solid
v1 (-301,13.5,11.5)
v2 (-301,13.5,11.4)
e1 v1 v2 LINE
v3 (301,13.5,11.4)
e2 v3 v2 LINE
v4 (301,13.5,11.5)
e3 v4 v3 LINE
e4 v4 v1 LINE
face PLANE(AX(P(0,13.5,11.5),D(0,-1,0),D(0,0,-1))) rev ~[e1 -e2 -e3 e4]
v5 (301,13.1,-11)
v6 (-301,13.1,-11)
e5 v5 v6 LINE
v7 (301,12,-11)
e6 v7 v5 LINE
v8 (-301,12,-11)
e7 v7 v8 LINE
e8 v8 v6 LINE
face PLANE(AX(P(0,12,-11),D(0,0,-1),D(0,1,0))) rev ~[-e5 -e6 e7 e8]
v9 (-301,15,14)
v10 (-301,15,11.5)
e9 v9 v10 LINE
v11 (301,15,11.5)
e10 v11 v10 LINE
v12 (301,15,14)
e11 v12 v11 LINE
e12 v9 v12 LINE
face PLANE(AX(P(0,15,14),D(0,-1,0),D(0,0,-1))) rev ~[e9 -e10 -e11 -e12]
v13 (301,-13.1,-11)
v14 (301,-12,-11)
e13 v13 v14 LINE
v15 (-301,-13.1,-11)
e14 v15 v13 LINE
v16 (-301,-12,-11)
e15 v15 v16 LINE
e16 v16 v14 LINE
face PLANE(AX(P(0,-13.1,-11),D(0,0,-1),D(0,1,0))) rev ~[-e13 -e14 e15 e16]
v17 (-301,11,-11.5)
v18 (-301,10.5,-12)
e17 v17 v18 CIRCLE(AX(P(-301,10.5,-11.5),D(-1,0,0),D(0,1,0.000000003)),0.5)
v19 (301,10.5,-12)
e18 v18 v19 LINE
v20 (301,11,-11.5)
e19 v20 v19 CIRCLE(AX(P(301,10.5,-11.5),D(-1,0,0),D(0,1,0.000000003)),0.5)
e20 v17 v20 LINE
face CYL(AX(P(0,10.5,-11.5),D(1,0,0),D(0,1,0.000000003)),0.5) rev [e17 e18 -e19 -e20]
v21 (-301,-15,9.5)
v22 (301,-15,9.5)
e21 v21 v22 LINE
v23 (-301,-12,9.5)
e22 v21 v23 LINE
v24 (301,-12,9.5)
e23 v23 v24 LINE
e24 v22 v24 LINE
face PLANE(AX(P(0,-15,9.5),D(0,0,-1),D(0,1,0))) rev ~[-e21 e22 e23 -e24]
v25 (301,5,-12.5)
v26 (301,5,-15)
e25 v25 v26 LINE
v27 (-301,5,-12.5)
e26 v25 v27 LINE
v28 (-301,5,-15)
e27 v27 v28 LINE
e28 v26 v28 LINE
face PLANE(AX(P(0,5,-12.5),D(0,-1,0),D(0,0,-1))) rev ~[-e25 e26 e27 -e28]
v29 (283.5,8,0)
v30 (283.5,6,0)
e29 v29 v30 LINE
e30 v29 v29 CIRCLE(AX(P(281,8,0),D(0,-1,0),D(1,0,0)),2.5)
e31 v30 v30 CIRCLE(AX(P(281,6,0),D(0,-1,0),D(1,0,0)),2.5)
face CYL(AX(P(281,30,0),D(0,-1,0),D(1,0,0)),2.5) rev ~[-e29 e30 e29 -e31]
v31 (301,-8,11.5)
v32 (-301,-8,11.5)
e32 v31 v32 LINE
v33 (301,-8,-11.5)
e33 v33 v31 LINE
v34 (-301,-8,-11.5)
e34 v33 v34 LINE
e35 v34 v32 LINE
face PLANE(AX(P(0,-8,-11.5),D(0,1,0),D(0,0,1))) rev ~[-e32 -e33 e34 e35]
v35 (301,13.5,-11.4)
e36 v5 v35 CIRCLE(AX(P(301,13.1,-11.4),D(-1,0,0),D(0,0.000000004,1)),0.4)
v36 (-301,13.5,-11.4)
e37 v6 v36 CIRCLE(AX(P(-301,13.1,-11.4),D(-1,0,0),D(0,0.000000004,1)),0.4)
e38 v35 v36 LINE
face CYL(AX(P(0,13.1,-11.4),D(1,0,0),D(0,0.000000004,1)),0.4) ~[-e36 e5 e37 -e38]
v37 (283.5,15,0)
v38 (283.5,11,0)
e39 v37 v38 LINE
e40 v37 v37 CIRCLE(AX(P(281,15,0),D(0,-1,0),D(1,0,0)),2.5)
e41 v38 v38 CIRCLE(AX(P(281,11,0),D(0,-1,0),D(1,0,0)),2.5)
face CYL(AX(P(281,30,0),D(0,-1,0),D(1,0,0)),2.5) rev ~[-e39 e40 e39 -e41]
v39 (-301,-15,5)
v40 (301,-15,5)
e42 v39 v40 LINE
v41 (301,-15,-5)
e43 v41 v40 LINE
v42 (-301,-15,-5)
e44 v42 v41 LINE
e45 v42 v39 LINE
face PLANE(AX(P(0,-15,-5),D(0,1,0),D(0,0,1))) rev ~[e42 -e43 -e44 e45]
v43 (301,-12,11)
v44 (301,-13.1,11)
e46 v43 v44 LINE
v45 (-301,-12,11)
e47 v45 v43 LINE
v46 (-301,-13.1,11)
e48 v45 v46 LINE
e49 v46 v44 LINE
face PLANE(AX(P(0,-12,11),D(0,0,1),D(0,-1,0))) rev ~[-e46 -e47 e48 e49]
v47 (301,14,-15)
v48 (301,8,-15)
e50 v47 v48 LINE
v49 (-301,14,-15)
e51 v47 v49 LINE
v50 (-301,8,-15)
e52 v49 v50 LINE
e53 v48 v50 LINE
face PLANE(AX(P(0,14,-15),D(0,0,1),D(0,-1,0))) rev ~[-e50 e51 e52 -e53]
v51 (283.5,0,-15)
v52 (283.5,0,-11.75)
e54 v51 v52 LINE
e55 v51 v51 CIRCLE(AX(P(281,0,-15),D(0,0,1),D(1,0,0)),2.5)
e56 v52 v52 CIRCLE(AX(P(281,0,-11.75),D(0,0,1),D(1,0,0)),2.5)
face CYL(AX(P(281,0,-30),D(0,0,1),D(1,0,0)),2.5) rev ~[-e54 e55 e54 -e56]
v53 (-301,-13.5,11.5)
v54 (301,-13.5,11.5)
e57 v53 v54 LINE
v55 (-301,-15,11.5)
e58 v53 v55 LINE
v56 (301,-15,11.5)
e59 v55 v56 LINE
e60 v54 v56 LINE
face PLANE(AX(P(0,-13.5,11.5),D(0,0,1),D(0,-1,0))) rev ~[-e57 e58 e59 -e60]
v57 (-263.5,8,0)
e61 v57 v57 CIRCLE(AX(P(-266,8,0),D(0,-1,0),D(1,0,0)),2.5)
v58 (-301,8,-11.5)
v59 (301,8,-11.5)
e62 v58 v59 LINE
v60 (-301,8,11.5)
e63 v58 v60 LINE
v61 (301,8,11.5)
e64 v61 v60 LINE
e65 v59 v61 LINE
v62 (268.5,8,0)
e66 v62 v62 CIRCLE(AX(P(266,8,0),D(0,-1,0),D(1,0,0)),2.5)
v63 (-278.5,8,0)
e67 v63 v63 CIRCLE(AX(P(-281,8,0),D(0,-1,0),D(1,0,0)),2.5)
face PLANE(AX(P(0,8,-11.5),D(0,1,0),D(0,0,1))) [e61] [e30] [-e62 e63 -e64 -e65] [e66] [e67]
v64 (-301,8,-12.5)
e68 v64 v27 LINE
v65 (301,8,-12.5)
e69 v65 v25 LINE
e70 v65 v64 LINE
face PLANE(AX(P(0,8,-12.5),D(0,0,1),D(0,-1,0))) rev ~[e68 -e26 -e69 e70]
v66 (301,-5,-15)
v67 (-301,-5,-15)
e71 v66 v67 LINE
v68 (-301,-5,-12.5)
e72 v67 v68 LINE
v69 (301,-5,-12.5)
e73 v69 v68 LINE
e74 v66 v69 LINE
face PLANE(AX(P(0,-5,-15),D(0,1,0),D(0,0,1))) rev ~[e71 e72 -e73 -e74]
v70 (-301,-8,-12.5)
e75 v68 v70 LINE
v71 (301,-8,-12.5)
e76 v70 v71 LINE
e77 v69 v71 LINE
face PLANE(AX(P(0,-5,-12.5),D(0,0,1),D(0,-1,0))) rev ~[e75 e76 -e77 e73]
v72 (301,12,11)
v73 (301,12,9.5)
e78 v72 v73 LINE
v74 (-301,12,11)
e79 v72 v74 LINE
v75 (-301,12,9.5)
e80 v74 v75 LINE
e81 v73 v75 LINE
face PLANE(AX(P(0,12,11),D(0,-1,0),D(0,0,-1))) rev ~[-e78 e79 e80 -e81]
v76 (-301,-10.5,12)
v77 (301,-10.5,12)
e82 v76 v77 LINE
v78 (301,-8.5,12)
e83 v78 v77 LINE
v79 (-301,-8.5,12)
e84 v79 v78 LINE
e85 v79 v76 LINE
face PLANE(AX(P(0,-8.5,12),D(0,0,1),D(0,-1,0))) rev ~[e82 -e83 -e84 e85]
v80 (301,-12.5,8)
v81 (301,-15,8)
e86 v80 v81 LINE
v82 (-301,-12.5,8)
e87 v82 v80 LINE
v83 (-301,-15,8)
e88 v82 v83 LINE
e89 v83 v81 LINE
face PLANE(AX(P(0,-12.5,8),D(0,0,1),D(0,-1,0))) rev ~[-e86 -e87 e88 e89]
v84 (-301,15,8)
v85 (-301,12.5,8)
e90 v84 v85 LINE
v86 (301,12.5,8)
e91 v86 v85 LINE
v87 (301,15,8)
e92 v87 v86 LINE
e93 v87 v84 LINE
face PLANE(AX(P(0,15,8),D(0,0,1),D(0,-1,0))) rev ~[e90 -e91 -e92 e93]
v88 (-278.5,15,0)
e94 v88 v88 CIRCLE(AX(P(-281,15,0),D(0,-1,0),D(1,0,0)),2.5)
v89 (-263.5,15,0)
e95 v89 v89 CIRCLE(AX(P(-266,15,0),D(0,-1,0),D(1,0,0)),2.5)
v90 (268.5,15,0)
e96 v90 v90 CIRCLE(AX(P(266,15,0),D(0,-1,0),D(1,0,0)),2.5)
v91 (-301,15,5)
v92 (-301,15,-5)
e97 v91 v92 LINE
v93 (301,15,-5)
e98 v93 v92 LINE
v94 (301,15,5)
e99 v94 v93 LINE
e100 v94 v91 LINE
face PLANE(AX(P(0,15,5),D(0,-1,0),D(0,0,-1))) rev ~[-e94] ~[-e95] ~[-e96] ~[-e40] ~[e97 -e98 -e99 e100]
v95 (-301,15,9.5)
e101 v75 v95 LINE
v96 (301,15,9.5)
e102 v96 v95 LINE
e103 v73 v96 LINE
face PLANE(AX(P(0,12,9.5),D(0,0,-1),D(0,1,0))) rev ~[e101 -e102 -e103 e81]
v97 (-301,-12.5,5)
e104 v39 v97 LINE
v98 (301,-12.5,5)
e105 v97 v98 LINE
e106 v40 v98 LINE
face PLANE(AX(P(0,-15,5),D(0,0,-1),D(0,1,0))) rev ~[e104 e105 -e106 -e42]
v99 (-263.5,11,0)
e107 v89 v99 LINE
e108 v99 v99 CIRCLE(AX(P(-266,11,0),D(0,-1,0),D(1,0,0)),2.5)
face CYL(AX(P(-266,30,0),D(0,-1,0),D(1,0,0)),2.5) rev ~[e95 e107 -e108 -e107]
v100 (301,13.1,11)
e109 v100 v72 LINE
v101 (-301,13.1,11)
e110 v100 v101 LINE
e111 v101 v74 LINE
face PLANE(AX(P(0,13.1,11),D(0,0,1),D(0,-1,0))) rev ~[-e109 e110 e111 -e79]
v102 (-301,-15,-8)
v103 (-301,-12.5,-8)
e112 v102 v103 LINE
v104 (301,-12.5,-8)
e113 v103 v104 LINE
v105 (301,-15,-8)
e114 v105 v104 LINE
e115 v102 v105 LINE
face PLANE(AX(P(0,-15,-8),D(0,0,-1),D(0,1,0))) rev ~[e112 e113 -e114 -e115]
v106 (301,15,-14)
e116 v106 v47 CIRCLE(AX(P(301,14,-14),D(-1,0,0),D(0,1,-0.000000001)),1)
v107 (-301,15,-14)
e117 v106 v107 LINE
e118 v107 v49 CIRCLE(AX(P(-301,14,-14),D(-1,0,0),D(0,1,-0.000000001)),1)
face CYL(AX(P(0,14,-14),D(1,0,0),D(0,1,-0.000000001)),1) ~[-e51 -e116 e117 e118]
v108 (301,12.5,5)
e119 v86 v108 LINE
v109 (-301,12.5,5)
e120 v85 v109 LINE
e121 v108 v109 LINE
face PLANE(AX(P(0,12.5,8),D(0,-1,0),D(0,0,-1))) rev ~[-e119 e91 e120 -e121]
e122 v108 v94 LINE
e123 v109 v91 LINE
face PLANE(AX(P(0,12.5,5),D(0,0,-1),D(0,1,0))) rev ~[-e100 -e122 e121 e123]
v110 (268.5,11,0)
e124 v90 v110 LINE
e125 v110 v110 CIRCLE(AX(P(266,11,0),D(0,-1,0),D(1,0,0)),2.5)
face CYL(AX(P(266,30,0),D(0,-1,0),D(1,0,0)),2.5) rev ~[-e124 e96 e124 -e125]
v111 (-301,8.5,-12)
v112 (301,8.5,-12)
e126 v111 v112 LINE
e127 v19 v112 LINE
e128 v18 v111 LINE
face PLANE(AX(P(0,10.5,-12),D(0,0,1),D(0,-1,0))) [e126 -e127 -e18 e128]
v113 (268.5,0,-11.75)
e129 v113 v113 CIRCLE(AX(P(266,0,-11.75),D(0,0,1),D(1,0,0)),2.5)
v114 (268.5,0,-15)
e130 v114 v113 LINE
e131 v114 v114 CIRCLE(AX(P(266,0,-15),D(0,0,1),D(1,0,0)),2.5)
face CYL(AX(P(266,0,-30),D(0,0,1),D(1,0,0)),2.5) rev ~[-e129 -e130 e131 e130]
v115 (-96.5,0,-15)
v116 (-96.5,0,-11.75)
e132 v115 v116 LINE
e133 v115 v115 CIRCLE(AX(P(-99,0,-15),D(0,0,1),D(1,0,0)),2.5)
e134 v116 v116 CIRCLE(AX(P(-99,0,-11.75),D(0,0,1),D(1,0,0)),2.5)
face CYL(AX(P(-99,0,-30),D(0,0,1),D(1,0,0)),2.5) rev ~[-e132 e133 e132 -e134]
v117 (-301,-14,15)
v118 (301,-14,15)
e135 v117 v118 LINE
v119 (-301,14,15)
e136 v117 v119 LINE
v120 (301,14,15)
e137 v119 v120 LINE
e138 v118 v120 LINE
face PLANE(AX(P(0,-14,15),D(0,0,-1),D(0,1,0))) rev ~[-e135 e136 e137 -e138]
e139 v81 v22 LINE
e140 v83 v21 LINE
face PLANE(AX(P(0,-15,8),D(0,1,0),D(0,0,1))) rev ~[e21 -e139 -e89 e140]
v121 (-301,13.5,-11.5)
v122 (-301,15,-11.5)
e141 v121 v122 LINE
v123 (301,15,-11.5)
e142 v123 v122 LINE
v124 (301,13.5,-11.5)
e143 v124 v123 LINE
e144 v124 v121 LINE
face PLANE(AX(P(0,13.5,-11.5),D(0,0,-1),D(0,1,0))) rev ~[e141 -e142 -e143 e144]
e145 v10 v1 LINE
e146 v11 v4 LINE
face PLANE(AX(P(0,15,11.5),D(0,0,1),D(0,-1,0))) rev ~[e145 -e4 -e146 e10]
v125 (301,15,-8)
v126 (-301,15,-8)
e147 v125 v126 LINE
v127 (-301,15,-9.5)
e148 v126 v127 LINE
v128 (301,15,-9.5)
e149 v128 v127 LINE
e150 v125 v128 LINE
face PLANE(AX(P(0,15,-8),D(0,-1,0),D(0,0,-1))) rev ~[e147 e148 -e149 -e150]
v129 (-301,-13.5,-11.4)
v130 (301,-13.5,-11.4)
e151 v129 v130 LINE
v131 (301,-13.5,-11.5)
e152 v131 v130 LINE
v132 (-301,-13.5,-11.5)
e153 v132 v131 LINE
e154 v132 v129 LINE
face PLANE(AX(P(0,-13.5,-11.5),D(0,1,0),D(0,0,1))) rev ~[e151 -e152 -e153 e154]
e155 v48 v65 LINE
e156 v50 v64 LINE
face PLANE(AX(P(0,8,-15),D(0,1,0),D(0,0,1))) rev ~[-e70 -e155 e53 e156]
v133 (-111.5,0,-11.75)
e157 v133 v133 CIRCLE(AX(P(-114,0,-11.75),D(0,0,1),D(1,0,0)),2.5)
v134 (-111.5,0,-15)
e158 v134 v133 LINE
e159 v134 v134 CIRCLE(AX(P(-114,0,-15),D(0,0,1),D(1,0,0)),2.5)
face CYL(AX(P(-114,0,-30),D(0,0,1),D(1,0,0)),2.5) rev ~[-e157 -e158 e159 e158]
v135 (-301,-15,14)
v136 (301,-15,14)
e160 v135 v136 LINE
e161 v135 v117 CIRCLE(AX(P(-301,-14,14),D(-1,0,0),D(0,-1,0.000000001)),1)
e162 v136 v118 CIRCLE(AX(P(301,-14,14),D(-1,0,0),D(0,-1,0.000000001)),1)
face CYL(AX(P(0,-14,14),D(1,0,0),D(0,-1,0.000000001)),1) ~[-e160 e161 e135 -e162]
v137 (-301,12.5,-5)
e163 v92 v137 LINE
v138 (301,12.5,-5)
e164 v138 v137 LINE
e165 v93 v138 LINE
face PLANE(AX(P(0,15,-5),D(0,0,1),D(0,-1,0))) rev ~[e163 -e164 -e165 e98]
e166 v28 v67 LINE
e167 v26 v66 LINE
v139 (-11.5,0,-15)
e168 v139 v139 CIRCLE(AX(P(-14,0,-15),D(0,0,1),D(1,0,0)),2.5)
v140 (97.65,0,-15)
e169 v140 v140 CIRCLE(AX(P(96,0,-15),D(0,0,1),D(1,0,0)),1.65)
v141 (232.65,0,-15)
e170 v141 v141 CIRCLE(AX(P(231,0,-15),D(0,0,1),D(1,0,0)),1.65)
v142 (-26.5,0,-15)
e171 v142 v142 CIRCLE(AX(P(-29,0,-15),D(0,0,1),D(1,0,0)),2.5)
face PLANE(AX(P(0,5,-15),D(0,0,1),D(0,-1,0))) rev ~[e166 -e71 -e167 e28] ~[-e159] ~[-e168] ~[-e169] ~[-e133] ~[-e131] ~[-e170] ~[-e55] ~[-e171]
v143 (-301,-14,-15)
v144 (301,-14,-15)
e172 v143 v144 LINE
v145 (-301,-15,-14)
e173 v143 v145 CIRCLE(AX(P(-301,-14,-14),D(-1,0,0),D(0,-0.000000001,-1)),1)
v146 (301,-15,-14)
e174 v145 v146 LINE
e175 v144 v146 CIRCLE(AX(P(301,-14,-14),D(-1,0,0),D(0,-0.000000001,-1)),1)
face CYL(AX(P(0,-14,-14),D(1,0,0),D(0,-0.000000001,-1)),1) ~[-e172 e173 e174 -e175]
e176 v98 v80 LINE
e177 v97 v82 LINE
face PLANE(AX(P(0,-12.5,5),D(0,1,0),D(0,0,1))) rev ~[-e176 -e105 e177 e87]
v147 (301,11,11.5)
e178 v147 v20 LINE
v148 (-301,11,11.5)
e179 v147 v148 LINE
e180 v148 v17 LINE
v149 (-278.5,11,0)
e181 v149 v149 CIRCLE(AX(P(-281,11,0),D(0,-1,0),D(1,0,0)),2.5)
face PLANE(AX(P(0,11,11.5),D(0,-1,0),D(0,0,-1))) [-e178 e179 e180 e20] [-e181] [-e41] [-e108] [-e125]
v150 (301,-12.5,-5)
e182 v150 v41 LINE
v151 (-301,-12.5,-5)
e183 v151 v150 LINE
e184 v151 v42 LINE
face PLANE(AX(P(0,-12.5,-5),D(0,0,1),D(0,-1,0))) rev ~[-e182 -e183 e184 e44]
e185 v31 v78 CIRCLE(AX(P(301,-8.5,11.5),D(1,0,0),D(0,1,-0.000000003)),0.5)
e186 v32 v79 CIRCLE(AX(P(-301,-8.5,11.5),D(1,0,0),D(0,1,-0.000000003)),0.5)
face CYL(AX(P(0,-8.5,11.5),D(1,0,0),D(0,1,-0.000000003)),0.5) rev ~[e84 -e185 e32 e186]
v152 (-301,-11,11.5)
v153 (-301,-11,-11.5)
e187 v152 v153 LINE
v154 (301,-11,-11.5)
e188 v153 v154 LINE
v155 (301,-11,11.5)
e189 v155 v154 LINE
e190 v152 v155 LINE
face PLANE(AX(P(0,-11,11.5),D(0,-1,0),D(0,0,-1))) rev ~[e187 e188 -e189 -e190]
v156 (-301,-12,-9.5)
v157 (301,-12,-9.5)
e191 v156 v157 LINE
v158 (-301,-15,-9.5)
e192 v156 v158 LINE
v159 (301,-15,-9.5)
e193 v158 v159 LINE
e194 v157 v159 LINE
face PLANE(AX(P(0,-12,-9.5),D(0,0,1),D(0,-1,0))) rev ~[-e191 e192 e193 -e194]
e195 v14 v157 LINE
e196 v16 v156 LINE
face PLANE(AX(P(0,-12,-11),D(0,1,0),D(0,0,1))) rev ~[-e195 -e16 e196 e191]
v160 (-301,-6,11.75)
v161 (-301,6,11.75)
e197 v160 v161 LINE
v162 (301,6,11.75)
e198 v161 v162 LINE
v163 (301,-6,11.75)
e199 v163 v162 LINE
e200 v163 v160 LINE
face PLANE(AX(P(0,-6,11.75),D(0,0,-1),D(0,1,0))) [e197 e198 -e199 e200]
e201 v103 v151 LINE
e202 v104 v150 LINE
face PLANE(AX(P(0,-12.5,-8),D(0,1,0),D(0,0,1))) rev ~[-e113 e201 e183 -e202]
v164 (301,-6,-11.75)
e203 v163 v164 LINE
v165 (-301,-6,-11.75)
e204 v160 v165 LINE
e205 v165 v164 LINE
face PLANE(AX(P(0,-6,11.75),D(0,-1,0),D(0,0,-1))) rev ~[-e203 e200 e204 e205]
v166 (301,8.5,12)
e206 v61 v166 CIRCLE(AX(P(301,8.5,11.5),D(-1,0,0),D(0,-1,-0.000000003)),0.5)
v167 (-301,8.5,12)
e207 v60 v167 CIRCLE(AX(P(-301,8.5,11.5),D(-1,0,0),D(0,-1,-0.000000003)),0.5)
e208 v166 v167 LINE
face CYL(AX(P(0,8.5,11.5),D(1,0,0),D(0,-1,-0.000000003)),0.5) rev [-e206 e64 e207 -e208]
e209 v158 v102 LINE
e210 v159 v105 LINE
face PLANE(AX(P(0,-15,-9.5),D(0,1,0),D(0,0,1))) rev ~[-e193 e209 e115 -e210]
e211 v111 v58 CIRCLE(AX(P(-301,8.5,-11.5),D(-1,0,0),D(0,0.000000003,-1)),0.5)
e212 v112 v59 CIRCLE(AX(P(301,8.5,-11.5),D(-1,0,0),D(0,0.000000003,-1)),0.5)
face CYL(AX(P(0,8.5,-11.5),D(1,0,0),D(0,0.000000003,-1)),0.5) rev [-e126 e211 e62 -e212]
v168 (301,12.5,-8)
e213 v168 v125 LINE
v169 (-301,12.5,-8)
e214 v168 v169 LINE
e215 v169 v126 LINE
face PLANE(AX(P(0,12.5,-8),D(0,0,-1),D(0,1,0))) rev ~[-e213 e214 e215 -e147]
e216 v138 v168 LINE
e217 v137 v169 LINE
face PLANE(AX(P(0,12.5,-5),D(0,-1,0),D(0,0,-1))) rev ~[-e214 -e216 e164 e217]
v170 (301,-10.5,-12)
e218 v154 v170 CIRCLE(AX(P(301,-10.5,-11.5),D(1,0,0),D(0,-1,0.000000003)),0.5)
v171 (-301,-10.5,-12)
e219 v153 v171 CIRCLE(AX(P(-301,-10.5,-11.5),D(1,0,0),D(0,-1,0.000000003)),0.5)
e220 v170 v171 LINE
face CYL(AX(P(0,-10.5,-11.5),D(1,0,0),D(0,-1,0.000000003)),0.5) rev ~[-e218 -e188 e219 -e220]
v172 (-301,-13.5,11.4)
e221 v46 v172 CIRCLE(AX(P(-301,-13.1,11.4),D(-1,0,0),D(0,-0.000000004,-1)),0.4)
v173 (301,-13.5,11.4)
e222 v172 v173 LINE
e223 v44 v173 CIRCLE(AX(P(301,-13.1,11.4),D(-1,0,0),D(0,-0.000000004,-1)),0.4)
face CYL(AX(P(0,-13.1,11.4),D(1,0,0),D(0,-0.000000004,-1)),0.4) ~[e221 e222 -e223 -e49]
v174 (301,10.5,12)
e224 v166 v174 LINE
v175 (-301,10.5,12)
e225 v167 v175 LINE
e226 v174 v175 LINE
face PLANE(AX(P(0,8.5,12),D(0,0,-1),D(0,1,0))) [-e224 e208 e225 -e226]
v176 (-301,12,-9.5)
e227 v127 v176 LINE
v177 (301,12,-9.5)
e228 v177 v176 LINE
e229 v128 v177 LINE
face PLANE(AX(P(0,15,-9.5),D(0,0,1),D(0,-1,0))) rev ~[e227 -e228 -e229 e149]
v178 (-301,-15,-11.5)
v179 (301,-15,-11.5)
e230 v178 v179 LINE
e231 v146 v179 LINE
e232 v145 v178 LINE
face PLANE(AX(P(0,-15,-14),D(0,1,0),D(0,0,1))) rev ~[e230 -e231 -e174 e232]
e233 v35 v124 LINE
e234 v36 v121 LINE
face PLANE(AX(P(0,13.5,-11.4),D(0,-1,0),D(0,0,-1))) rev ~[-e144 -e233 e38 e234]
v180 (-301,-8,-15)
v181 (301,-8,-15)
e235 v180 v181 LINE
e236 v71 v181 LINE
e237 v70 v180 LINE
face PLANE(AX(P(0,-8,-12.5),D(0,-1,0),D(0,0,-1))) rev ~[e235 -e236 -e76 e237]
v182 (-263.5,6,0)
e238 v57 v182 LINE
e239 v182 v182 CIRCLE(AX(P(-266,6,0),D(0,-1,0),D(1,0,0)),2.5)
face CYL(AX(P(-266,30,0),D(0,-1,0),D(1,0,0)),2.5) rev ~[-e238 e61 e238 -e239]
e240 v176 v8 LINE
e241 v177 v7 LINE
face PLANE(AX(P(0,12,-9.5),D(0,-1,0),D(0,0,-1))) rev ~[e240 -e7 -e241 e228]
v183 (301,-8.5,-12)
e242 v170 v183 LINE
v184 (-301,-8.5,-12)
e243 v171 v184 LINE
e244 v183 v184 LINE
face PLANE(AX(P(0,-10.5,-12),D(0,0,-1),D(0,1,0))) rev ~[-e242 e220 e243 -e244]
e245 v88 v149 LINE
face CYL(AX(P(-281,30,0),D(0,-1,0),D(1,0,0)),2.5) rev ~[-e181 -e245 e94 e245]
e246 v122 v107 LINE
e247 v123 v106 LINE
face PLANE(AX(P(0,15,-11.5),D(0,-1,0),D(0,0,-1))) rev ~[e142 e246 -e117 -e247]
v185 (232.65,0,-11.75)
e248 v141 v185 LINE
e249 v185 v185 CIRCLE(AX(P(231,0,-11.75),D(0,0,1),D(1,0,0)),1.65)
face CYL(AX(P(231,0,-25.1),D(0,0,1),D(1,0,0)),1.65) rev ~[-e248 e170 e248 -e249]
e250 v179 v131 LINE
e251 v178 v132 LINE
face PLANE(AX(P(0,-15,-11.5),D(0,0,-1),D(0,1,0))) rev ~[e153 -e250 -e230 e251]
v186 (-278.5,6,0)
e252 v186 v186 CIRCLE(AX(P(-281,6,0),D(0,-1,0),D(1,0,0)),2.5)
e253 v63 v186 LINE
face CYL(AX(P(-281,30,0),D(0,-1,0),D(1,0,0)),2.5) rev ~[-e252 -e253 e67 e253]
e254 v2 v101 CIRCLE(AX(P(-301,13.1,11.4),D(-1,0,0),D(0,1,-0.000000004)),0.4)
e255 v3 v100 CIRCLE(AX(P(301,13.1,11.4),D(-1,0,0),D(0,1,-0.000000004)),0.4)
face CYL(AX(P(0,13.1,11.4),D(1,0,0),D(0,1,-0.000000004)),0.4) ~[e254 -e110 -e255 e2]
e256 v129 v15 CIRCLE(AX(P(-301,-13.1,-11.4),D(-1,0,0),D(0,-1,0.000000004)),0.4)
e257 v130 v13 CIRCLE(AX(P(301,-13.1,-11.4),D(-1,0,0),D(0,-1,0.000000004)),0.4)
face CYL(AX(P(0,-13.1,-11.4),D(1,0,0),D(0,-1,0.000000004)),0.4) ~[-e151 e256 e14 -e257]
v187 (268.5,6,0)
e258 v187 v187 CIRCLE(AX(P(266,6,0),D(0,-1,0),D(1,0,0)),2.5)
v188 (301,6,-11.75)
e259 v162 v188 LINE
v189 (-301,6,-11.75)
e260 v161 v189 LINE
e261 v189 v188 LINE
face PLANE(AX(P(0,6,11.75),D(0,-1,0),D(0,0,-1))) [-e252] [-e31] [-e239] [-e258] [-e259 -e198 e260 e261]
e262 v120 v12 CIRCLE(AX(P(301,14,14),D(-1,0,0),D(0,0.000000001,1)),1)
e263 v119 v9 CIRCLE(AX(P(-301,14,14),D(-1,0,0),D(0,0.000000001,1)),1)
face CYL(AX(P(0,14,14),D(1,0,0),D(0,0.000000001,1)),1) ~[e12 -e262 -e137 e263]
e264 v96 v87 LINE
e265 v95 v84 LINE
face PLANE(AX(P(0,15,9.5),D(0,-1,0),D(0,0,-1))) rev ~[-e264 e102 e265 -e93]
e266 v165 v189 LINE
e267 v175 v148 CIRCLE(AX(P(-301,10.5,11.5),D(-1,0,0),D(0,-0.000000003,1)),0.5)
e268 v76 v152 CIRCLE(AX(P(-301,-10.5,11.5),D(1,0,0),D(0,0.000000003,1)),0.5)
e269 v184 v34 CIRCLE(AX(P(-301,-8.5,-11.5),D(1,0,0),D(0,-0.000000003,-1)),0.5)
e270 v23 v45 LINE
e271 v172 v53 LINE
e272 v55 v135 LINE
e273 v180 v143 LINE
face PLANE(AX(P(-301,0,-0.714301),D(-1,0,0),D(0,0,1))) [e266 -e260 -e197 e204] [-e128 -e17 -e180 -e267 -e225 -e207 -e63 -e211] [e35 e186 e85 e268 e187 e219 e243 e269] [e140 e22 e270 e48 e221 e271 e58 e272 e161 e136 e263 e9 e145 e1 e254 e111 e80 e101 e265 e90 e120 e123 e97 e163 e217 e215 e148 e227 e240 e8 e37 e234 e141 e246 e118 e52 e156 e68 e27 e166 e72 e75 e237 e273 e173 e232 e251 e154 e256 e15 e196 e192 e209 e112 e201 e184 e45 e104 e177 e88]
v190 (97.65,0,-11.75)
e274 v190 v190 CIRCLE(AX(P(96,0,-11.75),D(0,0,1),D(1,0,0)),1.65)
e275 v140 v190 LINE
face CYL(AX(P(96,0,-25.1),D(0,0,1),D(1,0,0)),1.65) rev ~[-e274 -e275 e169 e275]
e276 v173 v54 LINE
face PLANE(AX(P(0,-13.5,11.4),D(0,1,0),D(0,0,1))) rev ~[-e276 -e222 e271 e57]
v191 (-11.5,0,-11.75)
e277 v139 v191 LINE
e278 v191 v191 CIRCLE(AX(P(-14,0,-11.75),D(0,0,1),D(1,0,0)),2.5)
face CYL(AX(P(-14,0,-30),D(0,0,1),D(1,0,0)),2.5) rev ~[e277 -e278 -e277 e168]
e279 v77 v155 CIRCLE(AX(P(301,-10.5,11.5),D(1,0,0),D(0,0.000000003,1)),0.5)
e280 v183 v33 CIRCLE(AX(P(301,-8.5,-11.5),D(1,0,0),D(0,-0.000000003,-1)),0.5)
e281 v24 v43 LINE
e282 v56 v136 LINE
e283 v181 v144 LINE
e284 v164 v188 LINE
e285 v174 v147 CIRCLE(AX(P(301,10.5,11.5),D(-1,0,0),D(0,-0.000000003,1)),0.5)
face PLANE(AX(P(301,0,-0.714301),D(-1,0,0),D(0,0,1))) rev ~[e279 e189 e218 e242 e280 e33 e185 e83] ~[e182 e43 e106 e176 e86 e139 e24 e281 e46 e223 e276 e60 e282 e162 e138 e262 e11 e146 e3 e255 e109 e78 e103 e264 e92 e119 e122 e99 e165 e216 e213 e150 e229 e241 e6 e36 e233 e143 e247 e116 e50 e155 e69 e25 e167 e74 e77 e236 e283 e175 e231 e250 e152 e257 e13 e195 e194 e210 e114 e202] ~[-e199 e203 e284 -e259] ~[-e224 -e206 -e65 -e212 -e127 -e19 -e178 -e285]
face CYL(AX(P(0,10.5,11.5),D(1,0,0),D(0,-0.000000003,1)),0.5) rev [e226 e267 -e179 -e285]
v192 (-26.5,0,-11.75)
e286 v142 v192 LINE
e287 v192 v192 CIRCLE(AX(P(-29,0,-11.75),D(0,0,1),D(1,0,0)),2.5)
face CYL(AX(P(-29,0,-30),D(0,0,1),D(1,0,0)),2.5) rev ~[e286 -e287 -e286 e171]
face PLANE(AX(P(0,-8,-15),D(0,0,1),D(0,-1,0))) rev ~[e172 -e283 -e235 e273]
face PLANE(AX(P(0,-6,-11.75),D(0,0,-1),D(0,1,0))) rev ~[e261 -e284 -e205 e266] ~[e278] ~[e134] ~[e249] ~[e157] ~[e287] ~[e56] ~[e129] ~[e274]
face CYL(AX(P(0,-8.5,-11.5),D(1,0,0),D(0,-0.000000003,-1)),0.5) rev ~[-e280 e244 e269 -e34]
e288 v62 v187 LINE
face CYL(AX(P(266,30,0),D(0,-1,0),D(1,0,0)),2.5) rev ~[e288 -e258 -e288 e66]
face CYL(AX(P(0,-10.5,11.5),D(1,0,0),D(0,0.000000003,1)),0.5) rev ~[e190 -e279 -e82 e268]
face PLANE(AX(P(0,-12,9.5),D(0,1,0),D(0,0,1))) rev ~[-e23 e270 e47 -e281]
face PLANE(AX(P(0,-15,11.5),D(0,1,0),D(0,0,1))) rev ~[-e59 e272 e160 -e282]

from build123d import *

# Parameters (mm, degrees)
SKETCH_1_W             = 23.5
SKETCH_1_H             = 12
EXTRUDE_1_DEPTH        = 301
HOLE_WIZARD_M6_1_D     = 5
HOLE_WIZARD_M6_1_DEPTH = 15
HOLE_WIZARD_M6_1_TIP   = 1.502151548
HOLE_WIZARD_M6_2_D     = 5
HOLE_WIZARD_M6_2_DEPTH = 15
HOLE_WIZARD_M6_2_TIP   = 1.502151548
HOLE_WIZARD_M4_1_D     = 3.3
HOLE_WIZARD_M4_1_DEPTH = 10.1
HOLE_WIZARD_M4_1_TIP   = 0.991420021


with BuildPart() as part:
    # 草图1 → 凸台-拉伸1 (new, symmetric)
    with BuildSketch(Plane(origin=(0, 0, 0), x_dir=(0, 0, -1), z_dir=(1, 0, 0))):
        with BuildLine():
            Line((-14, 15), (-11.5, 15))
            Line((-11.5, 15), (-11.5, 13.5))
            Line((-11.5, 13.5), (-11.4, 13.5))
            ThreePointArc((-11.4, 13.5), (-11.117157288, 13.382842712), (-11, 13.1))
            Line((-11, 13.1), (-11, 12))
            Line((-11, 12), (-9.5, 12))
            Line((-9.5, 12), (-9.5, 15))
            Line((-9.5, 15), (-8, 15))
            Line((-8, 15), (-8, 12.5))
            Line((-8, 12.5), (-5, 12.5))
            Line((-5, 12.5), (-5, 15))
            Line((-5, 15), (5, 15))
            Line((5, 15), (5, 12.5))
            Line((5, 12.5), (8, 12.5))
            Line((8, 12.5), (8, 15))
            Line((8, 15), (9.5, 15))
            Line((9.5, 15), (9.5, 12))
            Line((9.5, 12), (11, 12))
            Line((11, 12), (11, 13.1))
            ThreePointArc((11, 13.1), (11.117157288, 13.382842712), (11.4, 13.5))
            Line((11.4, 13.5), (11.5, 13.5))
            Line((11.5, 13.5), (11.5, 15))
            Line((11.5, 15), (14, 15))
            ThreePointArc((14, 15), (14.707106781, 14.707106781), (15, 14))
            Line((15, 14), (15, 8))
            Line((15, 8), (12.5, 8))
            Line((12.5, 8), (12.5, 5))
            Line((12.5, 5), (15, 5))
            Line((15, 5), (15, -5))
            Line((15, -5), (12.5, -5))
            Line((12.5, -5), (12.5, -8))
            Line((12.5, -8), (15, -8))
            Line((15, -8), (15, -14))
            ThreePointArc((15, -14), (14.707106781, -14.707106781), (14, -15))
            Line((14, -15), (11.5, -15))
            Line((11.5, -15), (11.5, -13.5))
            Line((11.5, -13.5), (11.4, -13.5))
            ThreePointArc((11.4, -13.5), (11.117157288, -13.382842712), (11, -13.1))
            Line((11, -13.1), (11, -12))
            Line((11, -12), (9.5, -12))
            Line((9.5, -12), (9.5, -15))
            Line((9.5, -15), (8, -15))
            Line((8, -15), (8, -12.5))
            Line((8, -12.5), (5, -12.5))
            Line((5, -12.5), (5, -15))
            Line((5, -15), (-5, -15))
            Line((-5, -15), (-5, -12.5))
            Line((-5, -12.5), (-8, -12.5))
            Line((-8, -12.5), (-8, -15))
            Line((-8, -15), (-9.5, -15))
            Line((-9.5, -15), (-9.5, -12))
            Line((-9.5, -12), (-11, -12))
            Line((-11, -12), (-11, -13.1))
            ThreePointArc((-11, -13.1), (-11.117157288, -13.382842712), (-11.4, -13.5))
            Line((-11.4, -13.5), (-11.5, -13.5))
            Line((-11.5, -13.5), (-11.5, -15))
            Line((-11.5, -15), (-14, -15))
            ThreePointArc((-14, -15), (-14.707106781, -14.707106781), (-15, -14))
            Line((-15, -14), (-15, 14))
            ThreePointArc((-15, 14), (-14.707106781, 14.707106781), (-14, 15))
        make_face()
        with BuildLine():
            Line((12, -10.5), (12, -8.5))
            ThreePointArc((12, -8.5), (11.853553391, -8.146446609), (11.5, -8))
            Line((11.5, -8), (-11.5, -8))
            ThreePointArc((-11.5, -8), (-11.853553391, -8.146446609), (-12, -8.5))
            Line((-12, -8.5), (-12, -10.5))
            ThreePointArc((-12, -10.5), (-11.853553391, -10.853553391), (-11.5, -11))
            Line((-11.5, -11), (11.5, -11))
            ThreePointArc((11.5, -11), (11.853553391, -10.853553391), (12, -10.5))
        make_face(mode=Mode.SUBTRACT)
        with BuildLine():
            Line((-11.5, 11), (11.5, 11))
            ThreePointArc((11.5, 11), (11.853553391, 10.853553391), (12, 10.5))
            Line((12, 10.5), (12, 8.5))
            ThreePointArc((12, 8.5), (11.853553391, 8.146446609), (11.5, 8))
            Line((11.5, 8), (-11.5, 8))
            ThreePointArc((-11.5, 8), (-11.853553391, 8.146446609), (-12, 8.5))
            Line((-12, 8.5), (-12, 10.5))
            ThreePointArc((-12, 10.5), (-11.853553391, 10.853553391), (-11.5, 11))
        make_face(mode=Mode.SUBTRACT)
        Rectangle(SKETCH_1_W, SKETCH_1_H, mode=Mode.SUBTRACT)
    extrude(amount=EXTRUDE_1_DEPTH, both=True)

    # M6 螺纹孔1
    with Locations(Plane(origin=(0, 0, -15), x_dir=(-1, 0, 0), z_dir=(0, 0, -1))):
        with Locations((-281, 0), (-266, 0), (29, 0), (14, 0), (99, 0), (114, 0)):
            Hole(HOLE_WIZARD_M6_1_D / 2, depth=HOLE_WIZARD_M6_1_DEPTH)
            with Locations((0, 0, -(HOLE_WIZARD_M6_1_DEPTH + HOLE_WIZARD_M6_1_TIP / 2))):  # 118° drill point
                Cone(0, HOLE_WIZARD_M6_1_D / 2, HOLE_WIZARD_M6_1_TIP, mode=Mode.SUBTRACT)

    # M6 螺纹孔2
    with Locations(Plane(origin=(0, 15, 0), x_dir=(-1, 0, 0), z_dir=(0, 1, 0))):
        with Locations((281, 0), (266, 0), (-266, 0), (-281, 0)):
            Hole(HOLE_WIZARD_M6_2_D / 2, depth=HOLE_WIZARD_M6_2_DEPTH)
            with Locations((0, 0, -(HOLE_WIZARD_M6_2_DEPTH + HOLE_WIZARD_M6_2_TIP / 2))):  # 118° drill point
                Cone(0, HOLE_WIZARD_M6_2_D / 2, HOLE_WIZARD_M6_2_TIP, mode=Mode.SUBTRACT)

    # M4 螺纹孔1
    with Locations(Plane(origin=(0, 0, -15), x_dir=(-1, 0, 0), z_dir=(0, 0, -1))):
        with Locations((-96, 0), (-231, 0)):
            Hole(HOLE_WIZARD_M4_1_D / 2, depth=HOLE_WIZARD_M4_1_DEPTH)
            with Locations((0, 0, -(HOLE_WIZARD_M4_1_DEPTH + HOLE_WIZARD_M4_1_TIP / 2))):  # 118° drill point
                Cone(0, HOLE_WIZARD_M4_1_D / 2, HOLE_WIZARD_M4_1_TIP, mode=Mode.SUBTRACT)


solid = part.part
